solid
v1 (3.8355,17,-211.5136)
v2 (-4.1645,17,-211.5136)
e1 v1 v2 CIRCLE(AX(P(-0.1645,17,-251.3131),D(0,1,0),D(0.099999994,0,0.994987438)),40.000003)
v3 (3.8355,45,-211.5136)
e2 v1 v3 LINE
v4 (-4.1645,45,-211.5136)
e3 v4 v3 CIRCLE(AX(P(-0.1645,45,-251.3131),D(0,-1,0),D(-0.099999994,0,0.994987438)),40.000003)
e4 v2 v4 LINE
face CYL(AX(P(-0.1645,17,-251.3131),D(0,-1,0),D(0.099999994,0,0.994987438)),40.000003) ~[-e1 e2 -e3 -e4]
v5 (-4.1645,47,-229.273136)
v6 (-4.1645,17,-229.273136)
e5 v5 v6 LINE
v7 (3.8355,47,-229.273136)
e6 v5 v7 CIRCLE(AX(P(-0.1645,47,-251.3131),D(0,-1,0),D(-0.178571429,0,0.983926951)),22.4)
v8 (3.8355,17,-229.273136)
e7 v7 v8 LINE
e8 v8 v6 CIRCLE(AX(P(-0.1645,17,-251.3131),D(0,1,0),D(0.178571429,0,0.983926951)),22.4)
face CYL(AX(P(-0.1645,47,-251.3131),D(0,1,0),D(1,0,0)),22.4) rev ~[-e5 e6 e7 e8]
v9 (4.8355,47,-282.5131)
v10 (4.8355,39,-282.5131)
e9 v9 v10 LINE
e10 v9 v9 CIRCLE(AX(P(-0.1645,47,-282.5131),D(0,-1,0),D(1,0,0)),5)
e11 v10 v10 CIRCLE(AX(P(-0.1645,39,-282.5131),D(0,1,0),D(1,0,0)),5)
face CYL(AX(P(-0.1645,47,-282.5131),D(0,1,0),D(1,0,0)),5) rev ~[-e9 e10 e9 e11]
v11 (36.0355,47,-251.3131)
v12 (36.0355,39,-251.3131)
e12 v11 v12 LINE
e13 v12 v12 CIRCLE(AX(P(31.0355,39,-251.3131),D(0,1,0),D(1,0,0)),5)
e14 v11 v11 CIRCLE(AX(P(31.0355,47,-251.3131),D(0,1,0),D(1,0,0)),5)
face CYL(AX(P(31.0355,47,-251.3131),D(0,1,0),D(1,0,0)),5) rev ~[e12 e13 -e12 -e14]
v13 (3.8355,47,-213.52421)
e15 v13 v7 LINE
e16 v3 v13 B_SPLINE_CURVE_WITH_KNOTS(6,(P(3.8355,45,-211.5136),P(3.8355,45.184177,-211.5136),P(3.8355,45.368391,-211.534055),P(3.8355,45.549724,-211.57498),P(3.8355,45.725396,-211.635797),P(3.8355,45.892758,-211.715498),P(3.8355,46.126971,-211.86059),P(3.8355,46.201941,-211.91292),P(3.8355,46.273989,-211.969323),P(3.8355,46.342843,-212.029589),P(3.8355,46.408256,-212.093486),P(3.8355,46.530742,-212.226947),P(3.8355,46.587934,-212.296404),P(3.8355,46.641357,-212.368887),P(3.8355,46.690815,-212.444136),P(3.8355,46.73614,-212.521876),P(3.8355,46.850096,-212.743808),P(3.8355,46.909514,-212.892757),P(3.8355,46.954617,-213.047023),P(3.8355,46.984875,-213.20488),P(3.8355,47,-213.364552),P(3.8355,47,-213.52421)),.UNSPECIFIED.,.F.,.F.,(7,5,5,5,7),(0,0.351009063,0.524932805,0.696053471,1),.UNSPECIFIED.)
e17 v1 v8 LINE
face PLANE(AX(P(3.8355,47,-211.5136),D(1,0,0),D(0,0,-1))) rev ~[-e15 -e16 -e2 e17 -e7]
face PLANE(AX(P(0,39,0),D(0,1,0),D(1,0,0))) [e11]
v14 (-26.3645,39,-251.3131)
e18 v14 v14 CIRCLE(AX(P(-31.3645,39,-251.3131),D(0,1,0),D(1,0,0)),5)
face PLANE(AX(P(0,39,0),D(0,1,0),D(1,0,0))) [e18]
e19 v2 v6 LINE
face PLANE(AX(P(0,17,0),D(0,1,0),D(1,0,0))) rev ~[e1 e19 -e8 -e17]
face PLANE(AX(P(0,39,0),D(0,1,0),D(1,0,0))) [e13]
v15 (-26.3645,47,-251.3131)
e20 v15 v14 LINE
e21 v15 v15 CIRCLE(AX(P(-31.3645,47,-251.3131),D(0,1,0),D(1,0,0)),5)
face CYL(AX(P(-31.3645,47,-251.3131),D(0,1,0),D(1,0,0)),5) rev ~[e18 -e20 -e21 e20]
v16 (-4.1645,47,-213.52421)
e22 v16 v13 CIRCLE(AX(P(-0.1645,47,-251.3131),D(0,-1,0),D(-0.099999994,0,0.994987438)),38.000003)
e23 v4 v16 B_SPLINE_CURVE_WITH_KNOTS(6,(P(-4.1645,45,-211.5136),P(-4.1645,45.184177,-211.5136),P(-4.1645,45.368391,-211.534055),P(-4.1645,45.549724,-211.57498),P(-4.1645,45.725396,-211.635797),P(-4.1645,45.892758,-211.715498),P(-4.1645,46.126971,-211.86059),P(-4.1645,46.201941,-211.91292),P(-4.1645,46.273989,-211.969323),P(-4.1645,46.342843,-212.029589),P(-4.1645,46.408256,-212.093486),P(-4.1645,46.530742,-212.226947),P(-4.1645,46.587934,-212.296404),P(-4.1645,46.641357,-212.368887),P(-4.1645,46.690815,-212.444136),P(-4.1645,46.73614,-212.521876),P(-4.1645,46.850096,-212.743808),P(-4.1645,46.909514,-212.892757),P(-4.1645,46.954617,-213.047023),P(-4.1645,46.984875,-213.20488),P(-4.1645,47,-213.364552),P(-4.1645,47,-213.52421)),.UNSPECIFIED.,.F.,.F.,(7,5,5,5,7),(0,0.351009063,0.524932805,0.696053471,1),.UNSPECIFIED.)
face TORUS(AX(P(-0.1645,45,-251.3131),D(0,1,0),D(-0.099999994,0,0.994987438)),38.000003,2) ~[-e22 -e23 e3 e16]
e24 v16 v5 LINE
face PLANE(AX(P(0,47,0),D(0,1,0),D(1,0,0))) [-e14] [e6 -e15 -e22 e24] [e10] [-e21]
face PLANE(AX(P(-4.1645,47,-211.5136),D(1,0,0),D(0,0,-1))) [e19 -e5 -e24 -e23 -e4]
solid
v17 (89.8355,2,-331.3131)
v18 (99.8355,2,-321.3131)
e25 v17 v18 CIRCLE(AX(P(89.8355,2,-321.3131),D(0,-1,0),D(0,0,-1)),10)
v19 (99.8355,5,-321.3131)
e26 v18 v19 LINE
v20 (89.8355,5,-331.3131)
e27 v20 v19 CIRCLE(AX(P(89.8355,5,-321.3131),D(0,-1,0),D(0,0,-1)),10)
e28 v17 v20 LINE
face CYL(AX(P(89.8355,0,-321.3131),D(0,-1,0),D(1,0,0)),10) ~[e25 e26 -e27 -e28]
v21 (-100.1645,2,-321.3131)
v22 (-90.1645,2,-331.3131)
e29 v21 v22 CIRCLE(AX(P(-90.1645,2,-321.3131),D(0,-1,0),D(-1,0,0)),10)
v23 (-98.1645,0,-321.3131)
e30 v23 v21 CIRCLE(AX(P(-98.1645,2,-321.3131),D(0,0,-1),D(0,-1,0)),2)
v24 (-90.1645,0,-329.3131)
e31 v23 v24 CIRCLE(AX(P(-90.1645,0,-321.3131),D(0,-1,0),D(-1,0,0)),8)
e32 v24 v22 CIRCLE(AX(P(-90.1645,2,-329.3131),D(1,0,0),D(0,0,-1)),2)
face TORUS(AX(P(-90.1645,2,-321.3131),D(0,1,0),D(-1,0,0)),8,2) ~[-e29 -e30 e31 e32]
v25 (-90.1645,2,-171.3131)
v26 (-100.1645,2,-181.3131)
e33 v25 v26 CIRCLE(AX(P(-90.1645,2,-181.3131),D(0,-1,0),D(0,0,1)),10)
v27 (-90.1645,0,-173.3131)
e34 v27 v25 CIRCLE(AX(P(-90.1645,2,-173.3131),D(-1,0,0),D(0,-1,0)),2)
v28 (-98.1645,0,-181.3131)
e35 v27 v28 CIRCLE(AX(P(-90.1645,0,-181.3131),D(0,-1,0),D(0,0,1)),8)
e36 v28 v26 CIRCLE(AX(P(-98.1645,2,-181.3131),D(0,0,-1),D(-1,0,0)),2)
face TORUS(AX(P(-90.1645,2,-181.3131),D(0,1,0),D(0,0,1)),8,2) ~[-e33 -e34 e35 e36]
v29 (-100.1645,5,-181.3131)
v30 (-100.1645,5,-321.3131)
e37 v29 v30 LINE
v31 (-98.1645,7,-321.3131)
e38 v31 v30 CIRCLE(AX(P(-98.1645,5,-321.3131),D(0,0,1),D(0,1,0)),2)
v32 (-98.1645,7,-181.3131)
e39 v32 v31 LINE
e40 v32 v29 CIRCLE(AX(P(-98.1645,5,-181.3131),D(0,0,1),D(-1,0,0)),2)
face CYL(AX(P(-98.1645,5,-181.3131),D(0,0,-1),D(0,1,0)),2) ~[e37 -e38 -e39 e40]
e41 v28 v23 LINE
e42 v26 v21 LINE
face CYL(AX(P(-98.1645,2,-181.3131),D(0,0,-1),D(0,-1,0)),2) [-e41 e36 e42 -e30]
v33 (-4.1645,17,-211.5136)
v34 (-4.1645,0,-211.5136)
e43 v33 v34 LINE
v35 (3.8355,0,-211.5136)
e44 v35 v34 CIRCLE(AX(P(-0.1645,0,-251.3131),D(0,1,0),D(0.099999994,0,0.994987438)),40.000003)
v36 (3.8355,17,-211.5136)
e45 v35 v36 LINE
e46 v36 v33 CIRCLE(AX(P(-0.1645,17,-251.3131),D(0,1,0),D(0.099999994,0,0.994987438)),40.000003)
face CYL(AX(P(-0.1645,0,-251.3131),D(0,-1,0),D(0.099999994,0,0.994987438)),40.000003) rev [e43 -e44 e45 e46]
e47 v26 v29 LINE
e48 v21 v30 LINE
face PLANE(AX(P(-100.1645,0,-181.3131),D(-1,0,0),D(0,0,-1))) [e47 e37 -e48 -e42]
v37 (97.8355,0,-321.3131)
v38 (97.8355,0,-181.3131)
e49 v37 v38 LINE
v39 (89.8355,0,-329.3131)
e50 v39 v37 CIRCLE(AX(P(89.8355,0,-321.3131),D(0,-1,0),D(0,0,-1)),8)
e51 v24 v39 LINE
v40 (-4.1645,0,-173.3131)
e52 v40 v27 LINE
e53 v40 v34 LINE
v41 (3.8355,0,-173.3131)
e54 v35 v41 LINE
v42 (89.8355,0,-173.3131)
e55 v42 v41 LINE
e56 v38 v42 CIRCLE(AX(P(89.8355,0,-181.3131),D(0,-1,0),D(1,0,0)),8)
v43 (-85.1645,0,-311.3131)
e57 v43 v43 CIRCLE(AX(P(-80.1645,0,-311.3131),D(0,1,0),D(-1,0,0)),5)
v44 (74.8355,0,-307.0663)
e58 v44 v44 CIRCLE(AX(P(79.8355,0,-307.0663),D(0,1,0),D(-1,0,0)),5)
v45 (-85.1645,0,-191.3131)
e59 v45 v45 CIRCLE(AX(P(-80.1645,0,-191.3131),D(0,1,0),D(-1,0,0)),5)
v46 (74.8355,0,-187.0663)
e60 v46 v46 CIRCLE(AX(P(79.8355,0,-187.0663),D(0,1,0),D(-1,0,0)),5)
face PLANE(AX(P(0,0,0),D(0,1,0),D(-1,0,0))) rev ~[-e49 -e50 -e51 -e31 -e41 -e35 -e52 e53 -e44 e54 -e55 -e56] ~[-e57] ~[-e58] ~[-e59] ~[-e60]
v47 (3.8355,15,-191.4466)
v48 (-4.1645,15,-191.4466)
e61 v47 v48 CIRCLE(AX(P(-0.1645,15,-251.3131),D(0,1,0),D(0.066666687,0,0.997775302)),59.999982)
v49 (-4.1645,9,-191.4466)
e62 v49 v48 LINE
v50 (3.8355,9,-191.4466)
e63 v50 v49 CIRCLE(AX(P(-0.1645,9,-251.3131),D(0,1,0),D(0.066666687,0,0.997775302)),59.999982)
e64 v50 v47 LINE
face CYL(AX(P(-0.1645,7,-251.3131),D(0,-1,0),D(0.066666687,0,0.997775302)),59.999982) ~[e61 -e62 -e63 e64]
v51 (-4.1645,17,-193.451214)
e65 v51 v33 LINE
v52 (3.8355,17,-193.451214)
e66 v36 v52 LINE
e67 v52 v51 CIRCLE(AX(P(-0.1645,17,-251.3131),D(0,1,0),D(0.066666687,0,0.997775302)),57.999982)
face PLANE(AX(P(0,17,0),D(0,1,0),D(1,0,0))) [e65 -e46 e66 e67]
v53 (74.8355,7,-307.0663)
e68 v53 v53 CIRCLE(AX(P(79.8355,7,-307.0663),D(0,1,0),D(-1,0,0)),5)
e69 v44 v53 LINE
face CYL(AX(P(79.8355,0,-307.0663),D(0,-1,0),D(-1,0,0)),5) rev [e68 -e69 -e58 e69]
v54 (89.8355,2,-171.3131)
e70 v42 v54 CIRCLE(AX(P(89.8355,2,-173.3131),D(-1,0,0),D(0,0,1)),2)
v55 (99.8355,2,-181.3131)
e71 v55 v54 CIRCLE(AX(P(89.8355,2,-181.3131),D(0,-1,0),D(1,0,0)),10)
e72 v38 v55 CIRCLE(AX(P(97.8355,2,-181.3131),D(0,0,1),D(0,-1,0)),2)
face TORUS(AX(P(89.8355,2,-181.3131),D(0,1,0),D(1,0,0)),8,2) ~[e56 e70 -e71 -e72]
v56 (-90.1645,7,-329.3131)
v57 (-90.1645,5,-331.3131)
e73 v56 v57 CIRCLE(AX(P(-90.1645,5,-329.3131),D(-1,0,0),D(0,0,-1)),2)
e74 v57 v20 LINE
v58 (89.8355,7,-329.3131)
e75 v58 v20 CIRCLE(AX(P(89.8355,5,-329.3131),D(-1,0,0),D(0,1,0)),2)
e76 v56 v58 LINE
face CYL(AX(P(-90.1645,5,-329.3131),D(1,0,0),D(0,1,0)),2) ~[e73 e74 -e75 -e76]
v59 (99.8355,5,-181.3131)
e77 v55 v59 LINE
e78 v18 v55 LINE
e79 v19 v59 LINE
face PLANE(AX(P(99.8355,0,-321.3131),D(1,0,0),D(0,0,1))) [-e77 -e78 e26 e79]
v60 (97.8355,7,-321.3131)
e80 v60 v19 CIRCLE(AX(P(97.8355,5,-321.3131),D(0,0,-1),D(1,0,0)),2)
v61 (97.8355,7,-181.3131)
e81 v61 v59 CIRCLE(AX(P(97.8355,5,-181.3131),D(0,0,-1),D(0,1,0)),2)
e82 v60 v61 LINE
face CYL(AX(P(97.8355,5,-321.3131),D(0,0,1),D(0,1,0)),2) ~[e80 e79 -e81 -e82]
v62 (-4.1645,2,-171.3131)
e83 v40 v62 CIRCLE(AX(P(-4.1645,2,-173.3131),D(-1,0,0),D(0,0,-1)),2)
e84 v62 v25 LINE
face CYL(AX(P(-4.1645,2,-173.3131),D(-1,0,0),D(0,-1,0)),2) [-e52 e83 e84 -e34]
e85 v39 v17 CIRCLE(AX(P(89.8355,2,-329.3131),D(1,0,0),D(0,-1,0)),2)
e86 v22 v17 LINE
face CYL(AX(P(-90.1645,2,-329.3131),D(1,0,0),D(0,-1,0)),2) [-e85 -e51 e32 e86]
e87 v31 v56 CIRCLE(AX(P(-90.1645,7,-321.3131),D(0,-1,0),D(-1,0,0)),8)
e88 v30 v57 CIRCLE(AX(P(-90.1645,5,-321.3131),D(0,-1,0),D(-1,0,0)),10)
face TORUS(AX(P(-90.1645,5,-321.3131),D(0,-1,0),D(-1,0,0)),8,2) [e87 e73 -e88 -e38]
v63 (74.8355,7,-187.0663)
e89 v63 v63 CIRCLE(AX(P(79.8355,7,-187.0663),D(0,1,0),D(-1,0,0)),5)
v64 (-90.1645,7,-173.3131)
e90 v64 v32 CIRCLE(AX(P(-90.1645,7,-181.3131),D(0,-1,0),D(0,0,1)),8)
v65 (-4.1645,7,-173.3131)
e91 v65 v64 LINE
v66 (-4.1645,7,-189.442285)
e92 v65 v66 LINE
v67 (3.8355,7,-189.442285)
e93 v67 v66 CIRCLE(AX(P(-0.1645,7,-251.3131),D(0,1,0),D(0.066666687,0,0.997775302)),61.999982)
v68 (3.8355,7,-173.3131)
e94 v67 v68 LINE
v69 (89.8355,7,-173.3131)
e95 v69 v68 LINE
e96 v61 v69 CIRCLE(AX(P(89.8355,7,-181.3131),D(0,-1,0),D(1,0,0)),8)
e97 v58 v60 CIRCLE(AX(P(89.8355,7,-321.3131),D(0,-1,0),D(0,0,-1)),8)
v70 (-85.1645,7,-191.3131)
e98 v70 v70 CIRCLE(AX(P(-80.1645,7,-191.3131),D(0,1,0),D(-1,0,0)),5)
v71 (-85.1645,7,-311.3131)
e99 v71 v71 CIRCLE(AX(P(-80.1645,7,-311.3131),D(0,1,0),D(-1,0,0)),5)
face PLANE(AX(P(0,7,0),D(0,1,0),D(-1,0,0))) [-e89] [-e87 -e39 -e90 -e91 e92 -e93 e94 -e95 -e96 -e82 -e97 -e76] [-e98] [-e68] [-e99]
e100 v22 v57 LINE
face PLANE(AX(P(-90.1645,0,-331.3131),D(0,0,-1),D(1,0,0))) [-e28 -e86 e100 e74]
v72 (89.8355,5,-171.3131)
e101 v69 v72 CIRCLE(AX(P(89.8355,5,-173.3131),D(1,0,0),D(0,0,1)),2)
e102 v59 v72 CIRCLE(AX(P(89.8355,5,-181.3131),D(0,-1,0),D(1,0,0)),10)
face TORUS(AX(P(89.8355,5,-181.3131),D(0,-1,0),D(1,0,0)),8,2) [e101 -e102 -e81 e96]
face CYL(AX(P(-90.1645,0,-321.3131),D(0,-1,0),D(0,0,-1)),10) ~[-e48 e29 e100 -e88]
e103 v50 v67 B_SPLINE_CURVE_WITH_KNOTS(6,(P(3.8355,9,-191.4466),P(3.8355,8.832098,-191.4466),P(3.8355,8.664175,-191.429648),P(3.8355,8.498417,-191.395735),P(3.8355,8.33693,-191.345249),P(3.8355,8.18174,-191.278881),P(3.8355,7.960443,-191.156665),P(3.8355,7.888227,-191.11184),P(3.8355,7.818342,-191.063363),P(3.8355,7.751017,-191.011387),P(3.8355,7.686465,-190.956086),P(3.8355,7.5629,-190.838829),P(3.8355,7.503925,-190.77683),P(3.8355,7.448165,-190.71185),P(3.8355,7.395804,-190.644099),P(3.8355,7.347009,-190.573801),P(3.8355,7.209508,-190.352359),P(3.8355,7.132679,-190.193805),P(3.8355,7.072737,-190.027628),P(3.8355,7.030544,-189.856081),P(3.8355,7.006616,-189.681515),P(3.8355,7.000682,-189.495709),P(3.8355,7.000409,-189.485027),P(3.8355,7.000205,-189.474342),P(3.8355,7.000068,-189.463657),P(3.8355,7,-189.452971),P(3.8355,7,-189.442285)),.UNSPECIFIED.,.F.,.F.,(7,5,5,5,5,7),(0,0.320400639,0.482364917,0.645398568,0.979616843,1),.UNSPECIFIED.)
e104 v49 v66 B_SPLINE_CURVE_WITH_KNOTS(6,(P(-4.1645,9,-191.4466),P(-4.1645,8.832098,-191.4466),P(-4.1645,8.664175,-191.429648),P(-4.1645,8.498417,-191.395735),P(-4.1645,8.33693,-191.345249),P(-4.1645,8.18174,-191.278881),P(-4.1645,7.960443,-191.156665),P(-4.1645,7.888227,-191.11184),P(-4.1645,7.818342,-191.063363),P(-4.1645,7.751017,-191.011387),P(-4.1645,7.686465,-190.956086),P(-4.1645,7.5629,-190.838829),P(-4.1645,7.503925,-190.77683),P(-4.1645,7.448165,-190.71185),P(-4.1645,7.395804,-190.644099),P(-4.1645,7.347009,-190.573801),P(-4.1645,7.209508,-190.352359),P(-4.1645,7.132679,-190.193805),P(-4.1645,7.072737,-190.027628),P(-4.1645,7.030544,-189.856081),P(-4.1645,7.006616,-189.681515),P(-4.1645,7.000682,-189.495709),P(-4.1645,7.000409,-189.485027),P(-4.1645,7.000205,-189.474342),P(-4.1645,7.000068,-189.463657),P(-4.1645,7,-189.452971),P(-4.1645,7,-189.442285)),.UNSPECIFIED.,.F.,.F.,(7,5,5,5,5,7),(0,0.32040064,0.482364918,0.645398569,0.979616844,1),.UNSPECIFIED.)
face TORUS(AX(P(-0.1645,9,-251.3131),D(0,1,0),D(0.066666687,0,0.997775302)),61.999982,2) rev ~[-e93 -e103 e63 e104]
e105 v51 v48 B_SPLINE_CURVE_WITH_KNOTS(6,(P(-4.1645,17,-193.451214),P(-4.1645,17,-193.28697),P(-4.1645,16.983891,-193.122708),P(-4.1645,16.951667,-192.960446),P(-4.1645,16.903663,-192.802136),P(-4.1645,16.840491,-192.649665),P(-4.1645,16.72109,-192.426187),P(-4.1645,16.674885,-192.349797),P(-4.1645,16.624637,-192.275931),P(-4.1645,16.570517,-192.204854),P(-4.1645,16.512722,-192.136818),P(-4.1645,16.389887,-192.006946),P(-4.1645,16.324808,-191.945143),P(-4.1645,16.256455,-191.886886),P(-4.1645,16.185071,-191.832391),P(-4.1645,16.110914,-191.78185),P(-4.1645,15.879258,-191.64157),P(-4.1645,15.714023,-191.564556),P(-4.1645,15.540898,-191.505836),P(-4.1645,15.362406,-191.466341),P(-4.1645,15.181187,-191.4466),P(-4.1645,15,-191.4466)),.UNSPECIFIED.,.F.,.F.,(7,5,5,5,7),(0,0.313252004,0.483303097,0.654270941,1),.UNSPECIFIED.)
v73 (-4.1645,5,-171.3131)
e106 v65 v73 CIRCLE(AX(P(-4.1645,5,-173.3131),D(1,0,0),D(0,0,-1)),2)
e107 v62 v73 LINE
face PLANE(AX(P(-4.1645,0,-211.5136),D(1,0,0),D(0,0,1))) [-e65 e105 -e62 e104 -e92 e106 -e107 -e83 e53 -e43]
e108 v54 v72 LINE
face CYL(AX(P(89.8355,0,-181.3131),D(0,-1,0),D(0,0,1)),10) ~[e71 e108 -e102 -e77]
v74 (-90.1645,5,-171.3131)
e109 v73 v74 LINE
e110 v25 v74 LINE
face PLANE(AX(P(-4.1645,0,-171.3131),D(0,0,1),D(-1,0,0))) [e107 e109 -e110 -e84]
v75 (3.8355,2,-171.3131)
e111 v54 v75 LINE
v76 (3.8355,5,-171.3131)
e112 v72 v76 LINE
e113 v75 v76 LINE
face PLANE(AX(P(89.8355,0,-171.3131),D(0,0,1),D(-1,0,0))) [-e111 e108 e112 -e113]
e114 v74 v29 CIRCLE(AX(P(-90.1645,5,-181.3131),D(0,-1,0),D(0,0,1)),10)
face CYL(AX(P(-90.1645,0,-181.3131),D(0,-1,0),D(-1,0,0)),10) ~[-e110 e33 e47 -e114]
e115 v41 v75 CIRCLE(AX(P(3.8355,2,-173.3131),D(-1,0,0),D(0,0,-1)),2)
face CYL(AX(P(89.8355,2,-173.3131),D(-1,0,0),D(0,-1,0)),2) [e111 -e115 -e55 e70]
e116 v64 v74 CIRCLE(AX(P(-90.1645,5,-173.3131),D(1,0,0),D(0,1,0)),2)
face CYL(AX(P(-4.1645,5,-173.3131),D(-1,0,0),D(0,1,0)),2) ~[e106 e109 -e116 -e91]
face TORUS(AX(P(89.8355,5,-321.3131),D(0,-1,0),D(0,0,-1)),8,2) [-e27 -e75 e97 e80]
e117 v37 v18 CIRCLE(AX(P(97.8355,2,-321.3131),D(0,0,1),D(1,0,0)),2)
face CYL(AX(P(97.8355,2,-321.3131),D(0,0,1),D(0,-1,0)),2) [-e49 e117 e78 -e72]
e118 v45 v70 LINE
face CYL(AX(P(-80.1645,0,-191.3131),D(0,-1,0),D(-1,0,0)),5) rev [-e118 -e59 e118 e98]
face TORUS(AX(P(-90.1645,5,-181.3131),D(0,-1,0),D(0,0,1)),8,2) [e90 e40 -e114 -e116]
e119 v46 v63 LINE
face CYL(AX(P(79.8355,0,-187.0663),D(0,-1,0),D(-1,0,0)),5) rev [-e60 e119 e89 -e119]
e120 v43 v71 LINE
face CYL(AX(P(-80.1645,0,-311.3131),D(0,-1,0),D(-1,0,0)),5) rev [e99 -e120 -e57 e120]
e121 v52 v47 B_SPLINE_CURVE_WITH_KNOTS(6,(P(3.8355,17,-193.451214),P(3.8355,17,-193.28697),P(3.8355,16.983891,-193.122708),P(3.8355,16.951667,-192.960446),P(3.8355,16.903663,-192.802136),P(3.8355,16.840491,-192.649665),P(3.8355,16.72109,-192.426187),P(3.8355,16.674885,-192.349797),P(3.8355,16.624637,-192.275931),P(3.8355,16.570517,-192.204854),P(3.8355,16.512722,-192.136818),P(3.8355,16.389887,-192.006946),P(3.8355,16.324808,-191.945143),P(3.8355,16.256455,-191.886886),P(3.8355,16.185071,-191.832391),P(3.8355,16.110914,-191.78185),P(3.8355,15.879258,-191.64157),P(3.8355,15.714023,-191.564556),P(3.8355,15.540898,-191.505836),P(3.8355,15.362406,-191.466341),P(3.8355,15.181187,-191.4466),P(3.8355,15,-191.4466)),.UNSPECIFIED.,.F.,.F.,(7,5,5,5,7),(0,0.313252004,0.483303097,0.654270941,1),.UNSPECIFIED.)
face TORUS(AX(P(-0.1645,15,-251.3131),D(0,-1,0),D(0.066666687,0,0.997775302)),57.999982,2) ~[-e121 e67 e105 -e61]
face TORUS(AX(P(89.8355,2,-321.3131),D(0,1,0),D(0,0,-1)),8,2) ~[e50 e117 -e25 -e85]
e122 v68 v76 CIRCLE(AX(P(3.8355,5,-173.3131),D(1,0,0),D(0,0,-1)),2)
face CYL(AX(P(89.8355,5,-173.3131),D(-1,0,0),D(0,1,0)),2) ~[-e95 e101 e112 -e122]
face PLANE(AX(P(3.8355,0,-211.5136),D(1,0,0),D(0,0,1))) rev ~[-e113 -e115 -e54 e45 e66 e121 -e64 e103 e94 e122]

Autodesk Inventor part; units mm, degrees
ref_plane "YZ Plane" through (0, 0, 0) normal (1, 0, 0) x (0, 1, 0)
ref_plane "XZ Plane" through (0, 0, 0) normal (0, 1, 0) x (-1, 0, 0)
ref_plane "XY Plane" through (0, 0, 0) normal (0, 0, 1) x (1, 0, 0)
sketch "Sketch1" plane through (0, 0, 0) normal (0, 1, 0) x (-1, 0, 0)
  arc A0 (-3.8355, -211.5136) -> (4.1645, -211.5136) centre (0.1645, -251.3131) ccw
  arc A1 (-3.8355, -211.5136) -> (4.1645, -211.5136) centre (0.1645, -251.3131) ccw
  line L0 (4.1645, -211.5136) -> (4.1645, -196.0639)
  line L1 (4.1645, -171.3131) -> (4.1645, -211.5136)
  line L2 (-3.8355, -211.5136) -> (-3.8355, -197.7163)
  line L3 (4.1645, -171.3131) -> (90.1645, -171.3131)
  line L4 (100.1645, -181.3131) -> (100.1645, -321.3131)
  line L5 (90.1645, -331.3131) -> (-89.8355, -331.3131)
  line L6 (-99.8355, -321.3131) -> (-99.8355, -181.3131)
  line L7 (-89.8355, -171.3131) -> (0.1645, -171.3131)
  circle A2 centre (80.1645, -311.3131) radius 5
  circle A3 centre (80.1645, -191.3131) radius 5
  circle A4 centre (-79.8355, -187.0663) radius 5
  circle A5 centre (-79.8355, -307.0663) radius 5
  line L8 (-3.8355, -211.5136) -> (-3.8355, -171.3131)
  arc A6 (90.1645, -331.3131) -> (100.1645, -321.3131) centre (90.1645, -321.3131) ccw
  arc A7 (100.1645, -181.3131) -> (90.1645, -171.3131) centre (90.1645, -181.3131) ccw
  arc A8 (-89.8355, -171.3131) -> (-99.8355, -181.3131) centre (-89.8355, -181.3131) ccw
  arc A9 (-99.8355, -321.3131) -> (-89.8355, -331.3131) centre (-89.8355, -321.3131) ccw
  point P0 (0, 0)
  point P1 (-43.9118, -267.1712)
  point P2 (100.1645, -171.3131)
  point P3 (100.1645, -331.3131)
  point P4 (-99.8355, -331.3131)
  point P5 (-99.8355, -171.3131)
  dimension "d0" = 80
  dimension "d1" = 160
  dimension "d2" = 200
  dimension "d3" = 10
  dimension "d4" = 10
  dimension "d5" = 10
  dimension "d6" = 10
  dimension "d7" = 20
  dimension "d8" = 120
  dimension "d9" = 160
  dimension "d10" = 20
  dimension "d11" = 120
  dimension "d12" = 160
  dimension "d13" = 100
  dimension "d14" = 10
extrude "Extrusion1" add sketch "Sketch1" along normal blind 7
sketch "Sketch2" plane through (0, 7, 0) normal (0, 1, 0) x (1, 0, 0)
  line L0 (99.8355, 181.3131) -> (99.8355, 321.3131) projected
  arc A0 (99.8355, 321.3131) -> (89.8355, 331.3131) centre (89.8355, 321.3131) ccw projected
  line L1 (89.8355, 331.3131) -> (-90.1645, 331.3131) projected
  arc A1 (-90.1645, 331.3131) -> (-100.1645, 321.3131) centre (-90.1645, 321.3131) ccw projected
  line L2 (-100.1645, 321.3131) -> (-100.1645, 181.3131) projected
  arc A2 (-100.1645, 181.3131) -> (-90.1645, 171.3131) centre (-90.1645, 181.3131) ccw projected
  line L3 (-90.1645, 171.3131) -> (-4.1645, 171.3131) projected
  line L4 (-4.1645, 171.3131) -> (-4.1645, 211.5136) projected
  arc A3 (3.8355, 211.5136) -> (-4.1645, 211.5136) centre (-0.1645, 251.3131) ccw projected
  line L5 (3.8355, 211.5136) -> (3.8355, 171.3131) projected
  line L6 (3.8355, 171.3131) -> (89.8355, 171.3131) projected
  arc A4 (89.8355, 171.3131) -> (99.8355, 181.3131) centre (89.8355, 181.3131) ccw projected
  circle A5 centre (-80.1645, 191.3131) radius 5 projected
  circle A6 centre (-80.1645, 311.3131) radius 5 projected
  circle A7 centre (79.8355, 307.0663) radius 5 projected
  circle A8 centre (79.8355, 187.0663) radius 5 projected
  arc A9 (3.8355, 191.4466) -> (-4.1645, 191.4466) centre (-0.1645, 251.3131) ccw
  point P0 (0, 0)
  dimension "d17" = 120
extrude "Extrusion2" add sketch "Sketch2" along normal blind 10 contours L5 A3 L4 A9
sketch "Sketch3" plane through (0, 17, 0) normal (0, 1, 0) x (1, 0, 0)
  line L0 (3.8355, 211.5136) -> (3.8355, 191.4466) projected
  arc A0 (3.8355, 191.4466) -> (-4.1645, 191.4466) centre (-0.1645, 251.3131) ccw projected
  line L1 (-4.1645, 191.4466) -> (-4.1645, 211.5136) projected
  arc A1 (3.8355, 211.5136) -> (-4.1645, 211.5136) centre (-0.1645, 251.3131) ccw projected
  arc A2 (3.8355, 211.5136) -> (-4.1645, 211.5136) centre (-0.1645, 251.3131) ccw
  circle A3 centre (-0.1645, 251.3131) radius 40
  point P0 (0, 0)
extrude "Extrusion3" add sketch "Sketch3" along normal blind 30 contours A3 A1
sketch "Sketch4" plane through (-0.1645, 47, -251.3131) normal (0, 1, 0) x (1, 0, 0)
  circle A0 centre (0, 0) radius 40 projected
  circle A1 centre (0, 0) radius 27.5
  circle A2 centre (0, 0) radius 22.4
  line L0 (4, -39.7995) -> (4, -59.8665) projected
  arc A3 (4, -59.8665) -> (-4, -59.8665) centre (0, 0) ccw projected
  line L1 (-4, -59.8665) -> (-4, -39.7995) projected
  arc A4 (4, -39.7995) -> (-4, -39.7995) centre (0, 0) ccw projected
  line L2 (-4, -59.8665) -> (-4, 0)
  line L3 (-4, 0) -> (0, 0)
  line L4 (0, 0) -> (4, 0)
  line L5 (4, -59.8665) -> (4, 0)
  point P0 (0.1645, -251.3131)
  point P1 (4, -22.04)
  point P2 (-4, -22.04)
  dimension "d23" = 55
  dimension "d24" = 44.8
  dimension "d27" = 4
extrude "Extrusion4" cut sketch "Sketch4" against normal through all contours L2 L3 L4 L5 A2 | A2 L5 L4 L3 L2
extrude "Extrusion5" cut sketch "Sketch4" against normal through all contours L2 A1 L5 A0 | L2 A2 L5 A1 picked at (3.1125, -31.4915) picked at (-3.1132, -23.8691)
sketch "Sketch5" plane through (0, 47, 0) normal (0, 1, 0) x (1, 0, 0)
  line L0 (-4.1645, 211.5136) -> (-4.1645, 229.2731) projected
  arc A0 (3.8355, 229.2731) -> (-4.1645, 229.2731) centre (-0.1645, 251.3131) ccw projected
  line L1 (3.8355, 229.2731) -> (3.8355, 211.5136) projected
  arc A1 (3.8355, 211.5136) -> (-4.1645, 211.5136) centre (-0.1645, 251.3131) ccw projected
  line L2 (-0.1645, 251.3131) -> (-0.1645, 282.5131)
  circle A2 centre (-0.1645, 282.5131) radius 5
  circle A3 centre (31.0355, 251.3131) radius 5
  circle A4 centre (-31.3645, 251.3131) radius 5
  point P0 (0, 0)
  dimension "d33" = 31.2
  dimension "d34" = 10
  dimension "d35" = 10
  dimension "d36" = 10
  dimension "d37" = 31.2
  dimension "d38" = 31.2
extrude "Extrusion6" cut sketch "Sketch5" against normal blind 8 contours A2 | A3 | A4
fillet "Fillet1" radius 2 2 edges at (-0.1645, 7, -311.3131) (-0.1645, 17, -311.3131)
fillet "Fillet2" radius 2 19 edges at (-0.1645, 47, -291.3131) (-0.1645, 7, -331.3131) (-97.2356, 7, -328.3841) (-100.1645, 7, -251.3131) (-97.2356, 7, -174.242) (-47.1645, 7, -171.3131) (99.8355, 7, -251.3131) (96.9065, 7, -174.242) (46.8355, 7, -171.3131) (96.9065, 7, -328.3841) (99.8355, 0, -251.3131) (96.9065, 0, -328.3841) (-0.1645, 0, -331.3131) (-97.2356, 0, -328.3841) (-100.1645, 0, -251.3131) (-97.2356, 0, -174.242) (-47.1645, 0, -171.3131) (46.8355, 0, -171.3131) (96.9065, 0, -174.242)
equation "\"d13\" = 0.5 * d2"
equation "\"d37\" = d33"
equation "\"d38\" = d33"
properties part number "Table_Filter" material "PBT Plastic"
